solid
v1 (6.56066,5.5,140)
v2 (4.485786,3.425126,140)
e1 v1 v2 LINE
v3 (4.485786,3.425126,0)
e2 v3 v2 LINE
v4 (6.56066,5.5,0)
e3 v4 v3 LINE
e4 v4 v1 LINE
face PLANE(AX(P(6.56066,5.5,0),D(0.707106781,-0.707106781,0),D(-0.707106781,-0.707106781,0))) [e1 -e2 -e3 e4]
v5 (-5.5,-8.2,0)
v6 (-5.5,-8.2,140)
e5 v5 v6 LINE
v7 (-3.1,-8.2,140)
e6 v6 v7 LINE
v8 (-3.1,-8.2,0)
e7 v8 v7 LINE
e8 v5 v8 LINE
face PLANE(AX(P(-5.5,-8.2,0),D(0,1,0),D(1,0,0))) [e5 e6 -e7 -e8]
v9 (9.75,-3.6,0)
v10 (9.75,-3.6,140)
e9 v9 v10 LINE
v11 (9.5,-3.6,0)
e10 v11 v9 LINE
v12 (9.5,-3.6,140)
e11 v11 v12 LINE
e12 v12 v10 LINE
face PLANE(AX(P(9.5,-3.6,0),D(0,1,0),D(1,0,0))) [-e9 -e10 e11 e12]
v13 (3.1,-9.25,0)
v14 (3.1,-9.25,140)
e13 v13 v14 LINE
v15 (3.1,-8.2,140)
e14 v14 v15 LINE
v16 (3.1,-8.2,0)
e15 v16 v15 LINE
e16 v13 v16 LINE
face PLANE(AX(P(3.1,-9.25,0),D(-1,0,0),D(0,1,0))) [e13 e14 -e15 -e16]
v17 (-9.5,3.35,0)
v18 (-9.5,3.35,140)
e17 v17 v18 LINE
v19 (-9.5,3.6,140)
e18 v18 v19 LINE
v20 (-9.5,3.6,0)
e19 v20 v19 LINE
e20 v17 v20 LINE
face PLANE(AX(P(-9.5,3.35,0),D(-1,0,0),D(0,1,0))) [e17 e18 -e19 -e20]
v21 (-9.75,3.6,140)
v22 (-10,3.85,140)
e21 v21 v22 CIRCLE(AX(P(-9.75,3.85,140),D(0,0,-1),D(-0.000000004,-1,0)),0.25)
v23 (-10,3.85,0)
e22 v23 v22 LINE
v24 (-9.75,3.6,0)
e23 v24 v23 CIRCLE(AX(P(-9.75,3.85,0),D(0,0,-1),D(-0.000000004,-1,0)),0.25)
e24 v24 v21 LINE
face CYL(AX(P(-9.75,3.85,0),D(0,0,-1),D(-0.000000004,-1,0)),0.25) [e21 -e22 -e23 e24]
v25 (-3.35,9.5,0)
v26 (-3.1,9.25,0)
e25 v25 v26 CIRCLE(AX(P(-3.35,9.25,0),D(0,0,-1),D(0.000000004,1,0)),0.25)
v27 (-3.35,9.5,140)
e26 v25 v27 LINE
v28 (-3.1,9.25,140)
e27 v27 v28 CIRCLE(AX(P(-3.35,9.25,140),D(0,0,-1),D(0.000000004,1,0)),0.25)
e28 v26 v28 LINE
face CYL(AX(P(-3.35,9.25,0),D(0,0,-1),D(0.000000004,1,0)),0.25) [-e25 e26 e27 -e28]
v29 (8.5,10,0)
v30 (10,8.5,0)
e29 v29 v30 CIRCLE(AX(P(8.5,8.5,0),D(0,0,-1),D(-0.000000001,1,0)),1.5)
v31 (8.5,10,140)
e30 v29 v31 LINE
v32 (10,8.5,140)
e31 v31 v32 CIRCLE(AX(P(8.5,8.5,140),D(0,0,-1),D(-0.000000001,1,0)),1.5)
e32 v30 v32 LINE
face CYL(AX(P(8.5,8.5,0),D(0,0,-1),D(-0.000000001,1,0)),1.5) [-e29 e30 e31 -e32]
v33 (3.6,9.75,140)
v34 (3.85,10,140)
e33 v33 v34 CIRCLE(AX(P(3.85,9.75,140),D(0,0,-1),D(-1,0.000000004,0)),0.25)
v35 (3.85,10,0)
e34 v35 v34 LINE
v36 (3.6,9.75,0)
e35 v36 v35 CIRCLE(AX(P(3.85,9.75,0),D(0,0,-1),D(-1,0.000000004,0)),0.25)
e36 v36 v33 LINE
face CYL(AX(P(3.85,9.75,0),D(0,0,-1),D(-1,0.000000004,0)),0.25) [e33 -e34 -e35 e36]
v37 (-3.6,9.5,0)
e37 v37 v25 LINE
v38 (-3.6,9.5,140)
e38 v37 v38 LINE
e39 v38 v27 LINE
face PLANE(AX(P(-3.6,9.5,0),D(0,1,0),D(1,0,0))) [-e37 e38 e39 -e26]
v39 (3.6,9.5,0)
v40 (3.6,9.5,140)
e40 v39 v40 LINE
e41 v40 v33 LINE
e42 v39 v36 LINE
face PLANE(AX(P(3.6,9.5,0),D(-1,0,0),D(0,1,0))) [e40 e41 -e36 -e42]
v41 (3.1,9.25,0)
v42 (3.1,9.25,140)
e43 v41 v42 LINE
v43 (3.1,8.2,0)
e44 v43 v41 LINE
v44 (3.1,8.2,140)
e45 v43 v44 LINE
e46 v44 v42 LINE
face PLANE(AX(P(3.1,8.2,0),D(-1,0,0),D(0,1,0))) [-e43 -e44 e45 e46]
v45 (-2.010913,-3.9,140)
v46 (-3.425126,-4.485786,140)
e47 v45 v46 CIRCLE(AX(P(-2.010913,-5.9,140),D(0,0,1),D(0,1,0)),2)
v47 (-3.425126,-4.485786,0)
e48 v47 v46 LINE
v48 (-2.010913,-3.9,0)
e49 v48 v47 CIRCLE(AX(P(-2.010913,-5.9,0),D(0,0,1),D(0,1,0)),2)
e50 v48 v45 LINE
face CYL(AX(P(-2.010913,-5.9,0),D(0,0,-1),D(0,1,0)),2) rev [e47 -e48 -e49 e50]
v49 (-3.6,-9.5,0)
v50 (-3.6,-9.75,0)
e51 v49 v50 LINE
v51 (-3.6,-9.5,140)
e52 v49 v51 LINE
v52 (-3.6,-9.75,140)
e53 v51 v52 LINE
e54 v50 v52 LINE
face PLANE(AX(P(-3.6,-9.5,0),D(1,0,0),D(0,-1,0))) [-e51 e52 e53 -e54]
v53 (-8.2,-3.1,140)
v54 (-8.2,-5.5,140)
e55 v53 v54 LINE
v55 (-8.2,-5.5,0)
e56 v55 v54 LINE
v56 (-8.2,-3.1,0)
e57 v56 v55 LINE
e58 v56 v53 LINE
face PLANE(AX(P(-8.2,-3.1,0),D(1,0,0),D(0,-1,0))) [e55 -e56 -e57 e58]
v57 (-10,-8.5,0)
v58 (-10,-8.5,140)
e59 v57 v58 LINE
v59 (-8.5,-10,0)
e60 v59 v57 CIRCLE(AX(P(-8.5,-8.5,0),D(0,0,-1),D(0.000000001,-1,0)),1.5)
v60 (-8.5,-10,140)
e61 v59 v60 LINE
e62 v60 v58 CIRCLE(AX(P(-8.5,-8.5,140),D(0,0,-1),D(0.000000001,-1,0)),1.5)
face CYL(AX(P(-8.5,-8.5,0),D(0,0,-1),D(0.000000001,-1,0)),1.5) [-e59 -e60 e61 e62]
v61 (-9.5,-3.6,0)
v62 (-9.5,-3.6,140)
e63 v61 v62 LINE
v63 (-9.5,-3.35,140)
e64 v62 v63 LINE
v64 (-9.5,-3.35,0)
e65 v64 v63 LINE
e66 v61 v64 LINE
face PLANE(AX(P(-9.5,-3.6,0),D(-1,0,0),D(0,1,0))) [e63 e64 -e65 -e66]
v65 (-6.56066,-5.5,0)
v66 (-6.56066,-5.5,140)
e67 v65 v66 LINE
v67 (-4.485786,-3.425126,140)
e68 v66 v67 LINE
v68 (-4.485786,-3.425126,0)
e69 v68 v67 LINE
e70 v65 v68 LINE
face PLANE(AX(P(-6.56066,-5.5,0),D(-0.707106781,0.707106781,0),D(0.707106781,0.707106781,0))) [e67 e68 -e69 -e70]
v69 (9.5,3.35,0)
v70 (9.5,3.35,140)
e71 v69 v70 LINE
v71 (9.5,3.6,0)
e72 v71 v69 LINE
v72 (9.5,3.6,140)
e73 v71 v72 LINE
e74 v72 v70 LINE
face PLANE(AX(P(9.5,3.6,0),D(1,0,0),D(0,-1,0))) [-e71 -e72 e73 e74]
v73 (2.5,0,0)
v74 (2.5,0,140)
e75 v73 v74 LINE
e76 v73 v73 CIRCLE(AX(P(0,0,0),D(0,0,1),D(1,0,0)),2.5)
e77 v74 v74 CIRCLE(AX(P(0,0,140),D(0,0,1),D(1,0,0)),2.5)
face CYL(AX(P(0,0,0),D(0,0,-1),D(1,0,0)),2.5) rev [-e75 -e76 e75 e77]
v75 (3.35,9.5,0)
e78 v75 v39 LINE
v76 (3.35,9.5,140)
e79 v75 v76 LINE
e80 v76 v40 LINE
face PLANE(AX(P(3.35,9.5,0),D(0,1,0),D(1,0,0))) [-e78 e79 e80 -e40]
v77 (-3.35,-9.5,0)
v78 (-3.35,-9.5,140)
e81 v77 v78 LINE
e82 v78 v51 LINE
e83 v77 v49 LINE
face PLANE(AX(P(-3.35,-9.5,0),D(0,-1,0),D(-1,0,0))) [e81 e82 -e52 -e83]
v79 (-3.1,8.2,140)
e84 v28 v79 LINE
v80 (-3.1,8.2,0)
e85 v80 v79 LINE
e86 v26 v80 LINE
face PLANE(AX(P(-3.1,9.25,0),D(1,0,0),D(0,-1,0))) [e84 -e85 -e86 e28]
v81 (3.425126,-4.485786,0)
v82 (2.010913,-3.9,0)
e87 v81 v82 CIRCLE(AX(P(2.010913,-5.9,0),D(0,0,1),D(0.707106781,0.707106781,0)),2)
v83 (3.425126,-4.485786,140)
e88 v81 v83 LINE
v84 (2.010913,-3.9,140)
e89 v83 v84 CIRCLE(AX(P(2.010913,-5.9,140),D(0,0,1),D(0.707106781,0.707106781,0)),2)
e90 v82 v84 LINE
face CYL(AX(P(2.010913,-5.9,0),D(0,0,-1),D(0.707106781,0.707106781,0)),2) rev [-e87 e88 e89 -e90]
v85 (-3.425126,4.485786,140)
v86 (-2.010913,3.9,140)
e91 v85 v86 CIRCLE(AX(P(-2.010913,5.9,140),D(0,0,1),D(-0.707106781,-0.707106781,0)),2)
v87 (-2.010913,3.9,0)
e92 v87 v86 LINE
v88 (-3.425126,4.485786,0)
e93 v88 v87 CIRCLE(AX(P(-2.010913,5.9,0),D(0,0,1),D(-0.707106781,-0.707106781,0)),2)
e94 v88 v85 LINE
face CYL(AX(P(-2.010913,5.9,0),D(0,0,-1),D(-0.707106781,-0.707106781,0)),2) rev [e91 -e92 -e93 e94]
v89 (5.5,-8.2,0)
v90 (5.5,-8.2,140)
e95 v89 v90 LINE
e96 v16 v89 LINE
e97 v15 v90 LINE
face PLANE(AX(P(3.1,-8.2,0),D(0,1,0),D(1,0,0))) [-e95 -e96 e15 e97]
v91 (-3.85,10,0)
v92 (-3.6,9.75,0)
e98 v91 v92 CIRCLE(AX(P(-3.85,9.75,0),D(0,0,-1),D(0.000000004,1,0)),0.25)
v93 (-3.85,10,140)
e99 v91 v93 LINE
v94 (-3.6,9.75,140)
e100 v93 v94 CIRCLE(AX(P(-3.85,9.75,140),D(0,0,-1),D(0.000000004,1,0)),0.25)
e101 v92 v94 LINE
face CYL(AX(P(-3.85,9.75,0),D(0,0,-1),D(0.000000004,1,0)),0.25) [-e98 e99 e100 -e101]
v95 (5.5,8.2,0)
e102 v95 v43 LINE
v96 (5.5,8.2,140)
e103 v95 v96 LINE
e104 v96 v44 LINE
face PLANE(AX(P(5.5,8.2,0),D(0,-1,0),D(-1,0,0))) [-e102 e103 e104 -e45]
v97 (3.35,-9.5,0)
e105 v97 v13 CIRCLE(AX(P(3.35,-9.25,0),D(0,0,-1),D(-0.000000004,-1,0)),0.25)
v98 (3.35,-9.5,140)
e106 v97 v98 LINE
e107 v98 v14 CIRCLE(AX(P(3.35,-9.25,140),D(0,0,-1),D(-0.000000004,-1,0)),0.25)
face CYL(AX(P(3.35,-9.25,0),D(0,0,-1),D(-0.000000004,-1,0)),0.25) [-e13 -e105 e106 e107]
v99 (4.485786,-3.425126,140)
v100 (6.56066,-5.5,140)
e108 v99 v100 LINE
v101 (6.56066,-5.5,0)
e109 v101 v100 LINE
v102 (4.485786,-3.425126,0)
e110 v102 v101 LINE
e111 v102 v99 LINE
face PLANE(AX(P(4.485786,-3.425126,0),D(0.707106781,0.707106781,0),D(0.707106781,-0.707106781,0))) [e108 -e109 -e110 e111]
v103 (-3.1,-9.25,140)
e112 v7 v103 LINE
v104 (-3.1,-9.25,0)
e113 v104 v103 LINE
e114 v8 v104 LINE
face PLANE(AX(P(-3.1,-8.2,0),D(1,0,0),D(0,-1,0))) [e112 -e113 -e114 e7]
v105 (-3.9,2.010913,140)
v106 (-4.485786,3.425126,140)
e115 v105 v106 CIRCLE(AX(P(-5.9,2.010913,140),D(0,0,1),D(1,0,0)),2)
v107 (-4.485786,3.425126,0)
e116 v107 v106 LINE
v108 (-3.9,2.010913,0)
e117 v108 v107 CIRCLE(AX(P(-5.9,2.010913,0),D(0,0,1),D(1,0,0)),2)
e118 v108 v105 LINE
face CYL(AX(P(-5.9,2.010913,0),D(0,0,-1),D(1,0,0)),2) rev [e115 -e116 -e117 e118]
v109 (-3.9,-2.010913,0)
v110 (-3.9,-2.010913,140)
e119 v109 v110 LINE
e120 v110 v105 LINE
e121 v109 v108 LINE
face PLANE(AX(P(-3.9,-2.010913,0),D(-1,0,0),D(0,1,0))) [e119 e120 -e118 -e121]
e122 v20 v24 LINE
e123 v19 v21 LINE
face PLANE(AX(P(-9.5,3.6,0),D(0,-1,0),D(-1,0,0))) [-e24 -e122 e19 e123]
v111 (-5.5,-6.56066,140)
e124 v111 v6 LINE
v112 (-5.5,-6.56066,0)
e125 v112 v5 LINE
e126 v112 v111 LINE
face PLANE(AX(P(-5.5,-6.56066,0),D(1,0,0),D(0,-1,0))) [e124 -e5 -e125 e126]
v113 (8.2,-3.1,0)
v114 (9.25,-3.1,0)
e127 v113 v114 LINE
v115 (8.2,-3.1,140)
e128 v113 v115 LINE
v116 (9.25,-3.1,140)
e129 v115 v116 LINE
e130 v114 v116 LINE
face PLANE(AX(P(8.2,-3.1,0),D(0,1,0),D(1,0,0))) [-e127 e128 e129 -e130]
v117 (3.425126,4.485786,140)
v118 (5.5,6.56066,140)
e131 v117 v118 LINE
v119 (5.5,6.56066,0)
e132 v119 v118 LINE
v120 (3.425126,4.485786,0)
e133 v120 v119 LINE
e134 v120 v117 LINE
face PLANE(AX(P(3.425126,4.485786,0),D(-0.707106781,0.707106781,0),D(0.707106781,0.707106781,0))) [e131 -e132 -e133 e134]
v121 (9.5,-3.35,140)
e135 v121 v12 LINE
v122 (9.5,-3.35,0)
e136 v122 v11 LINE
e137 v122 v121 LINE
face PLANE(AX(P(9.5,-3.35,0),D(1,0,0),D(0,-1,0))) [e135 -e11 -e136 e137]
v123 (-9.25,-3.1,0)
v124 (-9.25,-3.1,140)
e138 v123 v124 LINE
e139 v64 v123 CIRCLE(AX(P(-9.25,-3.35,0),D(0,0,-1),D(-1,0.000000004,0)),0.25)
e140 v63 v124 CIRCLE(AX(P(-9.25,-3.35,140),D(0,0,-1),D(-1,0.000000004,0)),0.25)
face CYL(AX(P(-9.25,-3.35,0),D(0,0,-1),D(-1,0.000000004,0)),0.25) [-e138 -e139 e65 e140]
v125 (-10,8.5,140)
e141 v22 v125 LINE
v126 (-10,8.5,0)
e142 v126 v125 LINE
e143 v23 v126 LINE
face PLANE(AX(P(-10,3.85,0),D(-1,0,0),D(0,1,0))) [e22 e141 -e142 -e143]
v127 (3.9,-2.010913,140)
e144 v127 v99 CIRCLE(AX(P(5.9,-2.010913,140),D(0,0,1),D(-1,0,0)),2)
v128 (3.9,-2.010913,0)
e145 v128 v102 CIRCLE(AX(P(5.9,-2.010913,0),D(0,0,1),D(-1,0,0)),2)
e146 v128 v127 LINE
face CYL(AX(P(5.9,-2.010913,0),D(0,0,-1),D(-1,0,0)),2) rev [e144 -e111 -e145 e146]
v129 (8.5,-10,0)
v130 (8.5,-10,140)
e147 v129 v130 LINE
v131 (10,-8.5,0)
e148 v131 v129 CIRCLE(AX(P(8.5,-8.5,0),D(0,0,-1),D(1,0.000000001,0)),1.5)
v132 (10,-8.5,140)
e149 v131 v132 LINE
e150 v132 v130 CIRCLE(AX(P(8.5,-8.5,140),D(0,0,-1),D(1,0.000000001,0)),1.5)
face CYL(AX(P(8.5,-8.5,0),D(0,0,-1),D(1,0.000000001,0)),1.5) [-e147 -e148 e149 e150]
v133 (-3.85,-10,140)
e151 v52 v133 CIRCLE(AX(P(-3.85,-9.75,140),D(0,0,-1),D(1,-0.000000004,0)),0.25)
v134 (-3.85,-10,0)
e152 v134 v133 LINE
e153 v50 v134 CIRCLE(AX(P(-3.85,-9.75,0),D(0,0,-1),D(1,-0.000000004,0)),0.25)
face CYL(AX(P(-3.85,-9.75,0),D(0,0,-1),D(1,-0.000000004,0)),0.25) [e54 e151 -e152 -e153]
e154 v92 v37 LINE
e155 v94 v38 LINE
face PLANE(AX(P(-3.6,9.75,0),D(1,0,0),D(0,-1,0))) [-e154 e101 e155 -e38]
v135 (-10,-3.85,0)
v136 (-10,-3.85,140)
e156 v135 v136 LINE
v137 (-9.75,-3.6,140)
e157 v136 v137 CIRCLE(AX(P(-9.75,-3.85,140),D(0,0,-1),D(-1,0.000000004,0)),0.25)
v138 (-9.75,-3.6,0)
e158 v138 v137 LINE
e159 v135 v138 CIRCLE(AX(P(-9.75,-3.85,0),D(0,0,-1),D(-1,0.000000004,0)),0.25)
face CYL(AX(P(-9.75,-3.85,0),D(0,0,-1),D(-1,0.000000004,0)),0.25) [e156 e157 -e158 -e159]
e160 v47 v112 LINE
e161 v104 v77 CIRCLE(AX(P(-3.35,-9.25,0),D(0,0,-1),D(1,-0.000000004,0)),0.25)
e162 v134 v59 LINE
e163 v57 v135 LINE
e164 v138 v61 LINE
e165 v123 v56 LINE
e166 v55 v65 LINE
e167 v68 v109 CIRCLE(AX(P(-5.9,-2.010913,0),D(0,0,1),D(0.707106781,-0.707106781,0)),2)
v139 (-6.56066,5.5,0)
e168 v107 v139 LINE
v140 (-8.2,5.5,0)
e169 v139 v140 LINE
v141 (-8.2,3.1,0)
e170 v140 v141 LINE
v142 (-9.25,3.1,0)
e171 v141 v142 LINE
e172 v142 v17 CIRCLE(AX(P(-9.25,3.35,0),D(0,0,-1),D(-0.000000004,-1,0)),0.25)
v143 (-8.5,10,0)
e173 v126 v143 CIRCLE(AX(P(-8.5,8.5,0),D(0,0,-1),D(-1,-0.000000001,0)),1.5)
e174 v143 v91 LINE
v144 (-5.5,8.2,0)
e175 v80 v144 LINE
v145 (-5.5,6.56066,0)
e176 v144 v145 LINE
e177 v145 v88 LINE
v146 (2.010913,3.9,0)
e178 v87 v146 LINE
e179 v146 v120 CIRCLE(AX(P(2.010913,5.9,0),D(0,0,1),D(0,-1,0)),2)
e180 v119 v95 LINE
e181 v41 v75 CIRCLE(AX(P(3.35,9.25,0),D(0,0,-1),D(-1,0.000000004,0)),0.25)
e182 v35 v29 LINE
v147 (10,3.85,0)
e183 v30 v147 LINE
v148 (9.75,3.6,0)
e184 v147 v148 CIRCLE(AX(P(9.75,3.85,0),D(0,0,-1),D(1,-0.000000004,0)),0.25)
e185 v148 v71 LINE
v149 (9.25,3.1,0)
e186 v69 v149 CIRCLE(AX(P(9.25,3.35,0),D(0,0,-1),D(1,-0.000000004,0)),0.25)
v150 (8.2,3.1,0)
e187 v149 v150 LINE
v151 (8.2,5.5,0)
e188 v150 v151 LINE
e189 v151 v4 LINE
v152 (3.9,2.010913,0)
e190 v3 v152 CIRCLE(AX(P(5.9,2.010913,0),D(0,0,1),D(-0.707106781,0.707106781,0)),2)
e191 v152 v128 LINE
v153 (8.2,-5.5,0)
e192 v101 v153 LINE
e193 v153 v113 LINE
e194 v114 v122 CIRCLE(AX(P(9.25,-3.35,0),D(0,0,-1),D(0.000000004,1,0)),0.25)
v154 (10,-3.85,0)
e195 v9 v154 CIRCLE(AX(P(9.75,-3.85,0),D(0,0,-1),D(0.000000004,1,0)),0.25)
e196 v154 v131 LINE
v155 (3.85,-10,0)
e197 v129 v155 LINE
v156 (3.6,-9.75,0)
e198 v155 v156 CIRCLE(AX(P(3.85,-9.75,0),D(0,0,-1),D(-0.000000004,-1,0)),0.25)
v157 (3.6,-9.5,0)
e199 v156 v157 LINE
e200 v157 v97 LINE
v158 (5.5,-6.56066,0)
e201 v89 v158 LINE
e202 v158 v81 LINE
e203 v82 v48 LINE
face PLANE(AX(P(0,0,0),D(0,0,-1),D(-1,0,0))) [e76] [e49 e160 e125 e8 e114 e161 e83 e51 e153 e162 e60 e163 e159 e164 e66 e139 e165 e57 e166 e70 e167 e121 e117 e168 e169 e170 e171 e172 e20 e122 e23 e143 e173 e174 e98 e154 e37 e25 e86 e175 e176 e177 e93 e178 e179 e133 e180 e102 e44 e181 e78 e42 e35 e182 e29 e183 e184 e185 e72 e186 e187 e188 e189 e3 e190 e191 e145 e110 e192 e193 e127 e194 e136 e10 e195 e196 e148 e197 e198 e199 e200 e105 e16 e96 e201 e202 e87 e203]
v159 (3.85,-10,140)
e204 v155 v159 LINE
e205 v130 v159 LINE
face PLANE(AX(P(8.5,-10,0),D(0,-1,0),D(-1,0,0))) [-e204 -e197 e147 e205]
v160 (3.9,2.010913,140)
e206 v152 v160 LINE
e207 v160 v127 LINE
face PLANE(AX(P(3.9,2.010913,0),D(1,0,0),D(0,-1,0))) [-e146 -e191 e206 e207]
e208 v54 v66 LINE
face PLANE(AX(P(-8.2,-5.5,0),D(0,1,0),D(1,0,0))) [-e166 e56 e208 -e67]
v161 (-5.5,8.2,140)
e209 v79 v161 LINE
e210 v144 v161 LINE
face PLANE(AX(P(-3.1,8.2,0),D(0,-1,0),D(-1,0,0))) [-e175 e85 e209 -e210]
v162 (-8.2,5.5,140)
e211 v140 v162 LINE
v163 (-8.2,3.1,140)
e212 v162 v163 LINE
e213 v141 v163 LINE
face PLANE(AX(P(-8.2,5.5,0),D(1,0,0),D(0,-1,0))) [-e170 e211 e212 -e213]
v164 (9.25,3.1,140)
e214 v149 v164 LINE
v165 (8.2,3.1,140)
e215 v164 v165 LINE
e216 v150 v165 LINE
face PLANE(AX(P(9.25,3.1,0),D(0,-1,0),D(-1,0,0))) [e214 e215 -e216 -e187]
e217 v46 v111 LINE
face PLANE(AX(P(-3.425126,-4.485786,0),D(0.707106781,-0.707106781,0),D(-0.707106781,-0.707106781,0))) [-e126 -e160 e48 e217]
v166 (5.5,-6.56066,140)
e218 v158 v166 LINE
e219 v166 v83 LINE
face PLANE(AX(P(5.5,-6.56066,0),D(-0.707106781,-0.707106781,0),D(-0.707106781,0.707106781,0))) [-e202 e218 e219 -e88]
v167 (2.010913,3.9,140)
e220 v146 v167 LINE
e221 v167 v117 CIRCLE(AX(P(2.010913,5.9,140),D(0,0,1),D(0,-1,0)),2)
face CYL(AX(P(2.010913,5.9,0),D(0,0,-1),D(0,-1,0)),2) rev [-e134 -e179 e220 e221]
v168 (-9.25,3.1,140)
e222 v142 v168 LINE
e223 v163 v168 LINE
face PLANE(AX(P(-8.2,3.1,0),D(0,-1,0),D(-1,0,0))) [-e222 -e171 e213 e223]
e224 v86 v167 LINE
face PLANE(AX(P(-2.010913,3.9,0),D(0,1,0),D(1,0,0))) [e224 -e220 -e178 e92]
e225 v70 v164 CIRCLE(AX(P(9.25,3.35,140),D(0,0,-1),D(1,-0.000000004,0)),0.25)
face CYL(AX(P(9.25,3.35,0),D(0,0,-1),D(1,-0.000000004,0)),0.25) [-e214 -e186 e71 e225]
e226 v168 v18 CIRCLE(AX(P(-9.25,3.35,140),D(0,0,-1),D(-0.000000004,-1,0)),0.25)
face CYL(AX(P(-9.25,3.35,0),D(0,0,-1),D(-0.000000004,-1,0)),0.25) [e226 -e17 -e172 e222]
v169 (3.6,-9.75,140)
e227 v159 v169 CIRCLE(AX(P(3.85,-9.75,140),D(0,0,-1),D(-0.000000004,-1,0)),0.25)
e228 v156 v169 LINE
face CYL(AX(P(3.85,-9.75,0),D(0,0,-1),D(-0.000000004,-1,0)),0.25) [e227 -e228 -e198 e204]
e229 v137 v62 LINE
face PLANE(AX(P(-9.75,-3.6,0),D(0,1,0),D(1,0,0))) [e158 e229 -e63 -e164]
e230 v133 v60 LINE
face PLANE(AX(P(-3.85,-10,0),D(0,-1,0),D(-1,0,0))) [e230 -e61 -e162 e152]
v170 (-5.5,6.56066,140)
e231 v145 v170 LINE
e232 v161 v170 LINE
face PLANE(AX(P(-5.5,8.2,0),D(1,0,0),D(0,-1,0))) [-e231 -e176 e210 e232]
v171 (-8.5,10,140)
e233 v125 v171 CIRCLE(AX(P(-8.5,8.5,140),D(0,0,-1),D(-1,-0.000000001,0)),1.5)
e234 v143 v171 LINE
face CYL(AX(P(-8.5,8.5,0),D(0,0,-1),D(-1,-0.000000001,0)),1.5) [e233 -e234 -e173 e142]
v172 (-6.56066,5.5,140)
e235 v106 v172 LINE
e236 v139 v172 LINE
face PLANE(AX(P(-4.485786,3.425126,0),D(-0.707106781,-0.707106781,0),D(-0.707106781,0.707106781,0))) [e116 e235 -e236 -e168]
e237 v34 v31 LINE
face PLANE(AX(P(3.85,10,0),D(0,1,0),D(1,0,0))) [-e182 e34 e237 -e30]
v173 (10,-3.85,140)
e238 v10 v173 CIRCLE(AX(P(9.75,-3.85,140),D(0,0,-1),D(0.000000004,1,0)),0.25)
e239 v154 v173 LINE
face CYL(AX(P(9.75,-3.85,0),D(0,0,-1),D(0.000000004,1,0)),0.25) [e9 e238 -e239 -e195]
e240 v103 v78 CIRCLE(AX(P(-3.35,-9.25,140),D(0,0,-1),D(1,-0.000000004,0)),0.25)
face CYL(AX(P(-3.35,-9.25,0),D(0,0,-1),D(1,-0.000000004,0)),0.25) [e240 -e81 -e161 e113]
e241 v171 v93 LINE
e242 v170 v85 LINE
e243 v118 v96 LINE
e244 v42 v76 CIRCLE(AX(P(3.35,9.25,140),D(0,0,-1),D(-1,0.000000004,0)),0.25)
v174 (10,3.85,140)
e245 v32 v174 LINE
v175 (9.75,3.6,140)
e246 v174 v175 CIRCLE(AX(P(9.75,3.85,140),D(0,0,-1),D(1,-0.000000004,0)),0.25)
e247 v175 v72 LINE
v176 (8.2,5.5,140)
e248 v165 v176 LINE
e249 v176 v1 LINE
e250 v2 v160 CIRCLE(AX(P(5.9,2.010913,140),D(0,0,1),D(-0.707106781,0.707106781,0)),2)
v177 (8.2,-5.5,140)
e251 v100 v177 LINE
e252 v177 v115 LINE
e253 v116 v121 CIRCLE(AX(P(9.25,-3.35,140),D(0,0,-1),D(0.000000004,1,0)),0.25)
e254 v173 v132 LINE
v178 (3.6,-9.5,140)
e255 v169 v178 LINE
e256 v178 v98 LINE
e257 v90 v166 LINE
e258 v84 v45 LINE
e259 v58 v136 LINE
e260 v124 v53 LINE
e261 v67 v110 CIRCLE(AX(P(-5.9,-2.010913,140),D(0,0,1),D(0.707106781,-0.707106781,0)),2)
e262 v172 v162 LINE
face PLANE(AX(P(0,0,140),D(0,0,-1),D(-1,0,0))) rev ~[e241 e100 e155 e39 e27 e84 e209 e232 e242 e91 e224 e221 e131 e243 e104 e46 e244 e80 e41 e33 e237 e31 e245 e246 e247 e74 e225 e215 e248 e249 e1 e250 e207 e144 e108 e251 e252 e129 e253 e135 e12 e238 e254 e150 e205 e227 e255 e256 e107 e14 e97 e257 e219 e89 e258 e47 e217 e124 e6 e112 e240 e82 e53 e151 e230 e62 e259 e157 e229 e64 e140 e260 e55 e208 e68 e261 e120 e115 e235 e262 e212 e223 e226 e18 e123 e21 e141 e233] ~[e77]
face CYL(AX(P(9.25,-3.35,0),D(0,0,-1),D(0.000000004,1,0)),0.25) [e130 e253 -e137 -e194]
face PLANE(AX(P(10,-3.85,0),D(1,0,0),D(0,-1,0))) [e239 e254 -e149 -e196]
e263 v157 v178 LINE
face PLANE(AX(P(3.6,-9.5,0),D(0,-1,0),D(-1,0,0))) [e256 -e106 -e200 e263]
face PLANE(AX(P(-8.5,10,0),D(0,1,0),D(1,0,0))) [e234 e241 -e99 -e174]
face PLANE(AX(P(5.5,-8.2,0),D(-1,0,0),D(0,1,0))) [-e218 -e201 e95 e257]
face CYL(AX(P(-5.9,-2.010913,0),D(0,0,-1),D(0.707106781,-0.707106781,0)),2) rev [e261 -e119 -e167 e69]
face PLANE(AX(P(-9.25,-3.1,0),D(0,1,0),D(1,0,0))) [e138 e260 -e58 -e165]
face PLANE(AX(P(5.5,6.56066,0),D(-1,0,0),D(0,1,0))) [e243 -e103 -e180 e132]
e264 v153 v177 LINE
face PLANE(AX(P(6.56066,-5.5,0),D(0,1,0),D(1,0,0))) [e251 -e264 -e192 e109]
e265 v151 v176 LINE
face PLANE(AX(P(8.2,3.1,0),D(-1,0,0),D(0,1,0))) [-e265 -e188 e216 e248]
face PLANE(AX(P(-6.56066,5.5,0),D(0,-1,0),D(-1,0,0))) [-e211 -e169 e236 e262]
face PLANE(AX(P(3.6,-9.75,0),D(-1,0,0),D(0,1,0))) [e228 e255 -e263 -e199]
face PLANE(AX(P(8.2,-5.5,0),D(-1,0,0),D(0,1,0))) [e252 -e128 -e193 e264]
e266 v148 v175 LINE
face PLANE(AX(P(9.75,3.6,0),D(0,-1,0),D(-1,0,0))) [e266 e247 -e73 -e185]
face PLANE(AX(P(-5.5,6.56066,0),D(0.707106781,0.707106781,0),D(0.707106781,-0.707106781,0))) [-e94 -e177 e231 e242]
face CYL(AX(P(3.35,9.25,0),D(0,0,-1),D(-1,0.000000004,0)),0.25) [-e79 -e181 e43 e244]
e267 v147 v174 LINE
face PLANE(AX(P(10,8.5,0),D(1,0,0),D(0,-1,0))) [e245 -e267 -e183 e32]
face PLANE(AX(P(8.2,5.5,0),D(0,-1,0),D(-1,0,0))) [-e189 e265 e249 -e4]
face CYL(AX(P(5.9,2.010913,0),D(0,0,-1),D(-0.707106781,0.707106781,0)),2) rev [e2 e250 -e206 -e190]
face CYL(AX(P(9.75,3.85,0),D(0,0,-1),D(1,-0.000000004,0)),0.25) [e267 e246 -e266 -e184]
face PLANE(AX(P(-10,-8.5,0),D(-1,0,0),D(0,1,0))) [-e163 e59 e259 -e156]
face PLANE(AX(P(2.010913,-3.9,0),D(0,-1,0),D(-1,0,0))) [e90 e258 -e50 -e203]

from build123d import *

# Parameters (mm, degrees)
SKETCH1_R           = 2.5
BOSS_EXTRUDE1_DEPTH = 140


with BuildPart() as part:
    # Sketch1 → Boss-Extrude1 (new body)
    with BuildSketch(Plane.XY):
        with BuildLine():
            Line((-8.5, 10), (-3.85, 10))
            ThreePointArc((-3.85, 10), (-3.673223305, 9.926776695), (-3.6, 9.75))
            Line((-3.6, 9.75), (-3.6, 9.5))
            Line((-3.6, 9.5), (-3.35, 9.5))
            ThreePointArc((-3.35, 9.5), (-3.173223305, 9.426776695), (-3.1, 9.25))
            Line((-3.1, 9.25), (-3.1, 8.2))
            Line((-3.1, 8.2), (-5.5, 8.2))
            Line((-5.5, 8.2), (-5.5, 6.560660172))
            Line((-5.5, 6.560660172), (-3.425126266, 4.485786438))
            ThreePointArc((-3.425126266, 4.485786438), (-2.776279568, 4.052240935), (-2.010912703, 3.9))
            Line((-2.010912703, 3.9), (2.010912703, 3.9))
            ThreePointArc((2.010912703, 3.9), (2.776279568, 4.052240935), (3.425126266, 4.485786438))
            Line((3.425126266, 4.485786438), (5.5, 6.560660172))
            Line((5.5, 6.560660172), (5.5, 8.2))
            Line((5.5, 8.2), (3.1, 8.2))
            Line((3.1, 8.2), (3.1, 9.25))
            ThreePointArc((3.1, 9.25), (3.173223305, 9.426776695), (3.35, 9.5))
            Line((3.35, 9.5), (3.6, 9.5))
            Line((3.6, 9.5), (3.6, 9.75))
            ThreePointArc((3.6, 9.75), (3.673223305, 9.926776695), (3.85, 10))
            Line((3.85, 10), (8.5, 10))
            ThreePointArc((8.5, 10), (9.560660172, 9.560660172), (10, 8.5))
            Line((10, 8.5), (10, 3.85))
            ThreePointArc((10, 3.85), (9.926776695, 3.673223305), (9.75, 3.6))
            Line((9.75, 3.6), (9.5, 3.6))
            Line((9.5, 3.6), (9.5, 3.35))
            ThreePointArc((9.5, 3.35), (9.426776695, 3.173223305), (9.25, 3.1))
            Line((9.25, 3.1), (8.2, 3.1))
            Line((8.2, 3.1), (8.2, 5.5))
            Line((8.2, 5.5), (6.560660172, 5.5))
            Line((6.560660172, 5.5), (4.485786438, 3.425126266))
            ThreePointArc((4.485786438, 3.425126266), (4.052240935, 2.776279568), (3.9, 2.010912703))
            Line((3.9, 2.010912703), (3.9, -2.010912703))
            ThreePointArc((3.9, -2.010912703), (4.052240935, -2.776279568), (4.485786438, -3.425126266))
            Line((4.485786438, -3.425126266), (6.560660172, -5.5))
            Line((6.560660172, -5.5), (8.2, -5.5))
            Line((8.2, -5.5), (8.2, -3.1))
            Line((8.2, -3.1), (9.25, -3.1))
            ThreePointArc((9.25, -3.1), (9.426776695, -3.173223305), (9.5, -3.35))
            Line((9.5, -3.35), (9.5, -3.6))
            Line((9.5, -3.6), (9.75, -3.6))
            ThreePointArc((9.75, -3.6), (9.926776695, -3.673223305), (10, -3.85))
            Line((10, -3.85), (10, -8.5))
            ThreePointArc((10, -8.5), (9.560660172, -9.560660172), (8.5, -10))
            Line((8.5, -10), (3.85, -10))
            ThreePointArc((3.85, -10), (3.673223305, -9.926776695), (3.6, -9.75))
            Line((3.6, -9.75), (3.6, -9.5))
            Line((3.6, -9.5), (3.35, -9.5))
            ThreePointArc((3.35, -9.5), (3.173223305, -9.426776695), (3.1, -9.25))
            Line((3.1, -9.25), (3.1, -8.2))
            Line((3.1, -8.2), (5.5, -8.2))
            Line((5.5, -8.2), (5.5, -6.560660172))
            Line((5.5, -6.560660172), (3.425126266, -4.485786438))
            ThreePointArc((3.425126266, -4.485786438), (2.776279568, -4.052240935), (2.010912703, -3.9))
            Line((2.010912703, -3.9), (-2.010912703, -3.9))
            ThreePointArc((-2.010912703, -3.9), (-2.776279568, -4.052240935), (-3.425126266, -4.485786438))
            Line((-3.425126266, -4.485786438), (-5.5, -6.560660172))
            Line((-5.5, -6.560660172), (-5.5, -8.2))
            Line((-5.5, -8.2), (-3.1, -8.2))
            Line((-3.1, -8.2), (-3.1, -9.25))
            ThreePointArc((-3.1, -9.25), (-3.173223305, -9.426776695), (-3.35, -9.5))
            Line((-3.35, -9.5), (-3.6, -9.5))
            Line((-3.6, -9.5), (-3.6, -9.75))
            ThreePointArc((-3.6, -9.75), (-3.673223305, -9.926776695), (-3.85, -10))
            Line((-3.85, -10), (-8.5, -10))
            ThreePointArc((-8.5, -10), (-9.560660172, -9.560660172), (-10, -8.5))
            Line((-10, -8.5), (-10, -3.85))
            ThreePointArc((-10, -3.85), (-9.926776695, -3.673223305), (-9.75, -3.6))
            Line((-9.75, -3.6), (-9.5, -3.6))
            Line((-9.5, -3.6), (-9.5, -3.35))
            ThreePointArc((-9.5, -3.35), (-9.426776695, -3.173223305), (-9.25, -3.1))
            Line((-9.25, -3.1), (-8.2, -3.1))
            Line((-8.2, -3.1), (-8.2, -5.5))
            Line((-8.2, -5.5), (-6.560660172, -5.5))
            Line((-6.560660172, -5.5), (-4.485786438, -3.425126266))
            ThreePointArc((-4.485786438, -3.425126266), (-4.052240935, -2.776279568), (-3.9, -2.010912703))
            Line((-3.9, -2.010912703), (-3.9, 2.010912703))
            ThreePointArc((-3.9, 2.010912703), (-4.052240935, 2.776279568), (-4.485786438, 3.425126266))
            Line((-4.485786438, 3.425126266), (-6.560660172, 5.5))
            Line((-6.560660172, 5.5), (-8.2, 5.5))
            Line((-8.2, 5.5), (-8.2, 3.1))
            Line((-8.2, 3.1), (-9.25, 3.1))
            ThreePointArc((-9.25, 3.1), (-9.426776695, 3.173223305), (-9.5, 3.35))
            Line((-9.5, 3.35), (-9.5, 3.6))
            Line((-9.5, 3.6), (-9.75, 3.6))
            ThreePointArc((-9.75, 3.6), (-9.926776695, 3.673223305), (-10, 3.85))
            Line((-10, 3.85), (-10, 8.5))
            ThreePointArc((-10, 8.5), (-9.560660172, 9.560660172), (-8.5, 10))
        make_face()
        Circle(SKETCH1_R, mode=Mode.SUBTRACT)
    extrude(amount=BOSS_EXTRUDE1_DEPTH)


solid = part.part
